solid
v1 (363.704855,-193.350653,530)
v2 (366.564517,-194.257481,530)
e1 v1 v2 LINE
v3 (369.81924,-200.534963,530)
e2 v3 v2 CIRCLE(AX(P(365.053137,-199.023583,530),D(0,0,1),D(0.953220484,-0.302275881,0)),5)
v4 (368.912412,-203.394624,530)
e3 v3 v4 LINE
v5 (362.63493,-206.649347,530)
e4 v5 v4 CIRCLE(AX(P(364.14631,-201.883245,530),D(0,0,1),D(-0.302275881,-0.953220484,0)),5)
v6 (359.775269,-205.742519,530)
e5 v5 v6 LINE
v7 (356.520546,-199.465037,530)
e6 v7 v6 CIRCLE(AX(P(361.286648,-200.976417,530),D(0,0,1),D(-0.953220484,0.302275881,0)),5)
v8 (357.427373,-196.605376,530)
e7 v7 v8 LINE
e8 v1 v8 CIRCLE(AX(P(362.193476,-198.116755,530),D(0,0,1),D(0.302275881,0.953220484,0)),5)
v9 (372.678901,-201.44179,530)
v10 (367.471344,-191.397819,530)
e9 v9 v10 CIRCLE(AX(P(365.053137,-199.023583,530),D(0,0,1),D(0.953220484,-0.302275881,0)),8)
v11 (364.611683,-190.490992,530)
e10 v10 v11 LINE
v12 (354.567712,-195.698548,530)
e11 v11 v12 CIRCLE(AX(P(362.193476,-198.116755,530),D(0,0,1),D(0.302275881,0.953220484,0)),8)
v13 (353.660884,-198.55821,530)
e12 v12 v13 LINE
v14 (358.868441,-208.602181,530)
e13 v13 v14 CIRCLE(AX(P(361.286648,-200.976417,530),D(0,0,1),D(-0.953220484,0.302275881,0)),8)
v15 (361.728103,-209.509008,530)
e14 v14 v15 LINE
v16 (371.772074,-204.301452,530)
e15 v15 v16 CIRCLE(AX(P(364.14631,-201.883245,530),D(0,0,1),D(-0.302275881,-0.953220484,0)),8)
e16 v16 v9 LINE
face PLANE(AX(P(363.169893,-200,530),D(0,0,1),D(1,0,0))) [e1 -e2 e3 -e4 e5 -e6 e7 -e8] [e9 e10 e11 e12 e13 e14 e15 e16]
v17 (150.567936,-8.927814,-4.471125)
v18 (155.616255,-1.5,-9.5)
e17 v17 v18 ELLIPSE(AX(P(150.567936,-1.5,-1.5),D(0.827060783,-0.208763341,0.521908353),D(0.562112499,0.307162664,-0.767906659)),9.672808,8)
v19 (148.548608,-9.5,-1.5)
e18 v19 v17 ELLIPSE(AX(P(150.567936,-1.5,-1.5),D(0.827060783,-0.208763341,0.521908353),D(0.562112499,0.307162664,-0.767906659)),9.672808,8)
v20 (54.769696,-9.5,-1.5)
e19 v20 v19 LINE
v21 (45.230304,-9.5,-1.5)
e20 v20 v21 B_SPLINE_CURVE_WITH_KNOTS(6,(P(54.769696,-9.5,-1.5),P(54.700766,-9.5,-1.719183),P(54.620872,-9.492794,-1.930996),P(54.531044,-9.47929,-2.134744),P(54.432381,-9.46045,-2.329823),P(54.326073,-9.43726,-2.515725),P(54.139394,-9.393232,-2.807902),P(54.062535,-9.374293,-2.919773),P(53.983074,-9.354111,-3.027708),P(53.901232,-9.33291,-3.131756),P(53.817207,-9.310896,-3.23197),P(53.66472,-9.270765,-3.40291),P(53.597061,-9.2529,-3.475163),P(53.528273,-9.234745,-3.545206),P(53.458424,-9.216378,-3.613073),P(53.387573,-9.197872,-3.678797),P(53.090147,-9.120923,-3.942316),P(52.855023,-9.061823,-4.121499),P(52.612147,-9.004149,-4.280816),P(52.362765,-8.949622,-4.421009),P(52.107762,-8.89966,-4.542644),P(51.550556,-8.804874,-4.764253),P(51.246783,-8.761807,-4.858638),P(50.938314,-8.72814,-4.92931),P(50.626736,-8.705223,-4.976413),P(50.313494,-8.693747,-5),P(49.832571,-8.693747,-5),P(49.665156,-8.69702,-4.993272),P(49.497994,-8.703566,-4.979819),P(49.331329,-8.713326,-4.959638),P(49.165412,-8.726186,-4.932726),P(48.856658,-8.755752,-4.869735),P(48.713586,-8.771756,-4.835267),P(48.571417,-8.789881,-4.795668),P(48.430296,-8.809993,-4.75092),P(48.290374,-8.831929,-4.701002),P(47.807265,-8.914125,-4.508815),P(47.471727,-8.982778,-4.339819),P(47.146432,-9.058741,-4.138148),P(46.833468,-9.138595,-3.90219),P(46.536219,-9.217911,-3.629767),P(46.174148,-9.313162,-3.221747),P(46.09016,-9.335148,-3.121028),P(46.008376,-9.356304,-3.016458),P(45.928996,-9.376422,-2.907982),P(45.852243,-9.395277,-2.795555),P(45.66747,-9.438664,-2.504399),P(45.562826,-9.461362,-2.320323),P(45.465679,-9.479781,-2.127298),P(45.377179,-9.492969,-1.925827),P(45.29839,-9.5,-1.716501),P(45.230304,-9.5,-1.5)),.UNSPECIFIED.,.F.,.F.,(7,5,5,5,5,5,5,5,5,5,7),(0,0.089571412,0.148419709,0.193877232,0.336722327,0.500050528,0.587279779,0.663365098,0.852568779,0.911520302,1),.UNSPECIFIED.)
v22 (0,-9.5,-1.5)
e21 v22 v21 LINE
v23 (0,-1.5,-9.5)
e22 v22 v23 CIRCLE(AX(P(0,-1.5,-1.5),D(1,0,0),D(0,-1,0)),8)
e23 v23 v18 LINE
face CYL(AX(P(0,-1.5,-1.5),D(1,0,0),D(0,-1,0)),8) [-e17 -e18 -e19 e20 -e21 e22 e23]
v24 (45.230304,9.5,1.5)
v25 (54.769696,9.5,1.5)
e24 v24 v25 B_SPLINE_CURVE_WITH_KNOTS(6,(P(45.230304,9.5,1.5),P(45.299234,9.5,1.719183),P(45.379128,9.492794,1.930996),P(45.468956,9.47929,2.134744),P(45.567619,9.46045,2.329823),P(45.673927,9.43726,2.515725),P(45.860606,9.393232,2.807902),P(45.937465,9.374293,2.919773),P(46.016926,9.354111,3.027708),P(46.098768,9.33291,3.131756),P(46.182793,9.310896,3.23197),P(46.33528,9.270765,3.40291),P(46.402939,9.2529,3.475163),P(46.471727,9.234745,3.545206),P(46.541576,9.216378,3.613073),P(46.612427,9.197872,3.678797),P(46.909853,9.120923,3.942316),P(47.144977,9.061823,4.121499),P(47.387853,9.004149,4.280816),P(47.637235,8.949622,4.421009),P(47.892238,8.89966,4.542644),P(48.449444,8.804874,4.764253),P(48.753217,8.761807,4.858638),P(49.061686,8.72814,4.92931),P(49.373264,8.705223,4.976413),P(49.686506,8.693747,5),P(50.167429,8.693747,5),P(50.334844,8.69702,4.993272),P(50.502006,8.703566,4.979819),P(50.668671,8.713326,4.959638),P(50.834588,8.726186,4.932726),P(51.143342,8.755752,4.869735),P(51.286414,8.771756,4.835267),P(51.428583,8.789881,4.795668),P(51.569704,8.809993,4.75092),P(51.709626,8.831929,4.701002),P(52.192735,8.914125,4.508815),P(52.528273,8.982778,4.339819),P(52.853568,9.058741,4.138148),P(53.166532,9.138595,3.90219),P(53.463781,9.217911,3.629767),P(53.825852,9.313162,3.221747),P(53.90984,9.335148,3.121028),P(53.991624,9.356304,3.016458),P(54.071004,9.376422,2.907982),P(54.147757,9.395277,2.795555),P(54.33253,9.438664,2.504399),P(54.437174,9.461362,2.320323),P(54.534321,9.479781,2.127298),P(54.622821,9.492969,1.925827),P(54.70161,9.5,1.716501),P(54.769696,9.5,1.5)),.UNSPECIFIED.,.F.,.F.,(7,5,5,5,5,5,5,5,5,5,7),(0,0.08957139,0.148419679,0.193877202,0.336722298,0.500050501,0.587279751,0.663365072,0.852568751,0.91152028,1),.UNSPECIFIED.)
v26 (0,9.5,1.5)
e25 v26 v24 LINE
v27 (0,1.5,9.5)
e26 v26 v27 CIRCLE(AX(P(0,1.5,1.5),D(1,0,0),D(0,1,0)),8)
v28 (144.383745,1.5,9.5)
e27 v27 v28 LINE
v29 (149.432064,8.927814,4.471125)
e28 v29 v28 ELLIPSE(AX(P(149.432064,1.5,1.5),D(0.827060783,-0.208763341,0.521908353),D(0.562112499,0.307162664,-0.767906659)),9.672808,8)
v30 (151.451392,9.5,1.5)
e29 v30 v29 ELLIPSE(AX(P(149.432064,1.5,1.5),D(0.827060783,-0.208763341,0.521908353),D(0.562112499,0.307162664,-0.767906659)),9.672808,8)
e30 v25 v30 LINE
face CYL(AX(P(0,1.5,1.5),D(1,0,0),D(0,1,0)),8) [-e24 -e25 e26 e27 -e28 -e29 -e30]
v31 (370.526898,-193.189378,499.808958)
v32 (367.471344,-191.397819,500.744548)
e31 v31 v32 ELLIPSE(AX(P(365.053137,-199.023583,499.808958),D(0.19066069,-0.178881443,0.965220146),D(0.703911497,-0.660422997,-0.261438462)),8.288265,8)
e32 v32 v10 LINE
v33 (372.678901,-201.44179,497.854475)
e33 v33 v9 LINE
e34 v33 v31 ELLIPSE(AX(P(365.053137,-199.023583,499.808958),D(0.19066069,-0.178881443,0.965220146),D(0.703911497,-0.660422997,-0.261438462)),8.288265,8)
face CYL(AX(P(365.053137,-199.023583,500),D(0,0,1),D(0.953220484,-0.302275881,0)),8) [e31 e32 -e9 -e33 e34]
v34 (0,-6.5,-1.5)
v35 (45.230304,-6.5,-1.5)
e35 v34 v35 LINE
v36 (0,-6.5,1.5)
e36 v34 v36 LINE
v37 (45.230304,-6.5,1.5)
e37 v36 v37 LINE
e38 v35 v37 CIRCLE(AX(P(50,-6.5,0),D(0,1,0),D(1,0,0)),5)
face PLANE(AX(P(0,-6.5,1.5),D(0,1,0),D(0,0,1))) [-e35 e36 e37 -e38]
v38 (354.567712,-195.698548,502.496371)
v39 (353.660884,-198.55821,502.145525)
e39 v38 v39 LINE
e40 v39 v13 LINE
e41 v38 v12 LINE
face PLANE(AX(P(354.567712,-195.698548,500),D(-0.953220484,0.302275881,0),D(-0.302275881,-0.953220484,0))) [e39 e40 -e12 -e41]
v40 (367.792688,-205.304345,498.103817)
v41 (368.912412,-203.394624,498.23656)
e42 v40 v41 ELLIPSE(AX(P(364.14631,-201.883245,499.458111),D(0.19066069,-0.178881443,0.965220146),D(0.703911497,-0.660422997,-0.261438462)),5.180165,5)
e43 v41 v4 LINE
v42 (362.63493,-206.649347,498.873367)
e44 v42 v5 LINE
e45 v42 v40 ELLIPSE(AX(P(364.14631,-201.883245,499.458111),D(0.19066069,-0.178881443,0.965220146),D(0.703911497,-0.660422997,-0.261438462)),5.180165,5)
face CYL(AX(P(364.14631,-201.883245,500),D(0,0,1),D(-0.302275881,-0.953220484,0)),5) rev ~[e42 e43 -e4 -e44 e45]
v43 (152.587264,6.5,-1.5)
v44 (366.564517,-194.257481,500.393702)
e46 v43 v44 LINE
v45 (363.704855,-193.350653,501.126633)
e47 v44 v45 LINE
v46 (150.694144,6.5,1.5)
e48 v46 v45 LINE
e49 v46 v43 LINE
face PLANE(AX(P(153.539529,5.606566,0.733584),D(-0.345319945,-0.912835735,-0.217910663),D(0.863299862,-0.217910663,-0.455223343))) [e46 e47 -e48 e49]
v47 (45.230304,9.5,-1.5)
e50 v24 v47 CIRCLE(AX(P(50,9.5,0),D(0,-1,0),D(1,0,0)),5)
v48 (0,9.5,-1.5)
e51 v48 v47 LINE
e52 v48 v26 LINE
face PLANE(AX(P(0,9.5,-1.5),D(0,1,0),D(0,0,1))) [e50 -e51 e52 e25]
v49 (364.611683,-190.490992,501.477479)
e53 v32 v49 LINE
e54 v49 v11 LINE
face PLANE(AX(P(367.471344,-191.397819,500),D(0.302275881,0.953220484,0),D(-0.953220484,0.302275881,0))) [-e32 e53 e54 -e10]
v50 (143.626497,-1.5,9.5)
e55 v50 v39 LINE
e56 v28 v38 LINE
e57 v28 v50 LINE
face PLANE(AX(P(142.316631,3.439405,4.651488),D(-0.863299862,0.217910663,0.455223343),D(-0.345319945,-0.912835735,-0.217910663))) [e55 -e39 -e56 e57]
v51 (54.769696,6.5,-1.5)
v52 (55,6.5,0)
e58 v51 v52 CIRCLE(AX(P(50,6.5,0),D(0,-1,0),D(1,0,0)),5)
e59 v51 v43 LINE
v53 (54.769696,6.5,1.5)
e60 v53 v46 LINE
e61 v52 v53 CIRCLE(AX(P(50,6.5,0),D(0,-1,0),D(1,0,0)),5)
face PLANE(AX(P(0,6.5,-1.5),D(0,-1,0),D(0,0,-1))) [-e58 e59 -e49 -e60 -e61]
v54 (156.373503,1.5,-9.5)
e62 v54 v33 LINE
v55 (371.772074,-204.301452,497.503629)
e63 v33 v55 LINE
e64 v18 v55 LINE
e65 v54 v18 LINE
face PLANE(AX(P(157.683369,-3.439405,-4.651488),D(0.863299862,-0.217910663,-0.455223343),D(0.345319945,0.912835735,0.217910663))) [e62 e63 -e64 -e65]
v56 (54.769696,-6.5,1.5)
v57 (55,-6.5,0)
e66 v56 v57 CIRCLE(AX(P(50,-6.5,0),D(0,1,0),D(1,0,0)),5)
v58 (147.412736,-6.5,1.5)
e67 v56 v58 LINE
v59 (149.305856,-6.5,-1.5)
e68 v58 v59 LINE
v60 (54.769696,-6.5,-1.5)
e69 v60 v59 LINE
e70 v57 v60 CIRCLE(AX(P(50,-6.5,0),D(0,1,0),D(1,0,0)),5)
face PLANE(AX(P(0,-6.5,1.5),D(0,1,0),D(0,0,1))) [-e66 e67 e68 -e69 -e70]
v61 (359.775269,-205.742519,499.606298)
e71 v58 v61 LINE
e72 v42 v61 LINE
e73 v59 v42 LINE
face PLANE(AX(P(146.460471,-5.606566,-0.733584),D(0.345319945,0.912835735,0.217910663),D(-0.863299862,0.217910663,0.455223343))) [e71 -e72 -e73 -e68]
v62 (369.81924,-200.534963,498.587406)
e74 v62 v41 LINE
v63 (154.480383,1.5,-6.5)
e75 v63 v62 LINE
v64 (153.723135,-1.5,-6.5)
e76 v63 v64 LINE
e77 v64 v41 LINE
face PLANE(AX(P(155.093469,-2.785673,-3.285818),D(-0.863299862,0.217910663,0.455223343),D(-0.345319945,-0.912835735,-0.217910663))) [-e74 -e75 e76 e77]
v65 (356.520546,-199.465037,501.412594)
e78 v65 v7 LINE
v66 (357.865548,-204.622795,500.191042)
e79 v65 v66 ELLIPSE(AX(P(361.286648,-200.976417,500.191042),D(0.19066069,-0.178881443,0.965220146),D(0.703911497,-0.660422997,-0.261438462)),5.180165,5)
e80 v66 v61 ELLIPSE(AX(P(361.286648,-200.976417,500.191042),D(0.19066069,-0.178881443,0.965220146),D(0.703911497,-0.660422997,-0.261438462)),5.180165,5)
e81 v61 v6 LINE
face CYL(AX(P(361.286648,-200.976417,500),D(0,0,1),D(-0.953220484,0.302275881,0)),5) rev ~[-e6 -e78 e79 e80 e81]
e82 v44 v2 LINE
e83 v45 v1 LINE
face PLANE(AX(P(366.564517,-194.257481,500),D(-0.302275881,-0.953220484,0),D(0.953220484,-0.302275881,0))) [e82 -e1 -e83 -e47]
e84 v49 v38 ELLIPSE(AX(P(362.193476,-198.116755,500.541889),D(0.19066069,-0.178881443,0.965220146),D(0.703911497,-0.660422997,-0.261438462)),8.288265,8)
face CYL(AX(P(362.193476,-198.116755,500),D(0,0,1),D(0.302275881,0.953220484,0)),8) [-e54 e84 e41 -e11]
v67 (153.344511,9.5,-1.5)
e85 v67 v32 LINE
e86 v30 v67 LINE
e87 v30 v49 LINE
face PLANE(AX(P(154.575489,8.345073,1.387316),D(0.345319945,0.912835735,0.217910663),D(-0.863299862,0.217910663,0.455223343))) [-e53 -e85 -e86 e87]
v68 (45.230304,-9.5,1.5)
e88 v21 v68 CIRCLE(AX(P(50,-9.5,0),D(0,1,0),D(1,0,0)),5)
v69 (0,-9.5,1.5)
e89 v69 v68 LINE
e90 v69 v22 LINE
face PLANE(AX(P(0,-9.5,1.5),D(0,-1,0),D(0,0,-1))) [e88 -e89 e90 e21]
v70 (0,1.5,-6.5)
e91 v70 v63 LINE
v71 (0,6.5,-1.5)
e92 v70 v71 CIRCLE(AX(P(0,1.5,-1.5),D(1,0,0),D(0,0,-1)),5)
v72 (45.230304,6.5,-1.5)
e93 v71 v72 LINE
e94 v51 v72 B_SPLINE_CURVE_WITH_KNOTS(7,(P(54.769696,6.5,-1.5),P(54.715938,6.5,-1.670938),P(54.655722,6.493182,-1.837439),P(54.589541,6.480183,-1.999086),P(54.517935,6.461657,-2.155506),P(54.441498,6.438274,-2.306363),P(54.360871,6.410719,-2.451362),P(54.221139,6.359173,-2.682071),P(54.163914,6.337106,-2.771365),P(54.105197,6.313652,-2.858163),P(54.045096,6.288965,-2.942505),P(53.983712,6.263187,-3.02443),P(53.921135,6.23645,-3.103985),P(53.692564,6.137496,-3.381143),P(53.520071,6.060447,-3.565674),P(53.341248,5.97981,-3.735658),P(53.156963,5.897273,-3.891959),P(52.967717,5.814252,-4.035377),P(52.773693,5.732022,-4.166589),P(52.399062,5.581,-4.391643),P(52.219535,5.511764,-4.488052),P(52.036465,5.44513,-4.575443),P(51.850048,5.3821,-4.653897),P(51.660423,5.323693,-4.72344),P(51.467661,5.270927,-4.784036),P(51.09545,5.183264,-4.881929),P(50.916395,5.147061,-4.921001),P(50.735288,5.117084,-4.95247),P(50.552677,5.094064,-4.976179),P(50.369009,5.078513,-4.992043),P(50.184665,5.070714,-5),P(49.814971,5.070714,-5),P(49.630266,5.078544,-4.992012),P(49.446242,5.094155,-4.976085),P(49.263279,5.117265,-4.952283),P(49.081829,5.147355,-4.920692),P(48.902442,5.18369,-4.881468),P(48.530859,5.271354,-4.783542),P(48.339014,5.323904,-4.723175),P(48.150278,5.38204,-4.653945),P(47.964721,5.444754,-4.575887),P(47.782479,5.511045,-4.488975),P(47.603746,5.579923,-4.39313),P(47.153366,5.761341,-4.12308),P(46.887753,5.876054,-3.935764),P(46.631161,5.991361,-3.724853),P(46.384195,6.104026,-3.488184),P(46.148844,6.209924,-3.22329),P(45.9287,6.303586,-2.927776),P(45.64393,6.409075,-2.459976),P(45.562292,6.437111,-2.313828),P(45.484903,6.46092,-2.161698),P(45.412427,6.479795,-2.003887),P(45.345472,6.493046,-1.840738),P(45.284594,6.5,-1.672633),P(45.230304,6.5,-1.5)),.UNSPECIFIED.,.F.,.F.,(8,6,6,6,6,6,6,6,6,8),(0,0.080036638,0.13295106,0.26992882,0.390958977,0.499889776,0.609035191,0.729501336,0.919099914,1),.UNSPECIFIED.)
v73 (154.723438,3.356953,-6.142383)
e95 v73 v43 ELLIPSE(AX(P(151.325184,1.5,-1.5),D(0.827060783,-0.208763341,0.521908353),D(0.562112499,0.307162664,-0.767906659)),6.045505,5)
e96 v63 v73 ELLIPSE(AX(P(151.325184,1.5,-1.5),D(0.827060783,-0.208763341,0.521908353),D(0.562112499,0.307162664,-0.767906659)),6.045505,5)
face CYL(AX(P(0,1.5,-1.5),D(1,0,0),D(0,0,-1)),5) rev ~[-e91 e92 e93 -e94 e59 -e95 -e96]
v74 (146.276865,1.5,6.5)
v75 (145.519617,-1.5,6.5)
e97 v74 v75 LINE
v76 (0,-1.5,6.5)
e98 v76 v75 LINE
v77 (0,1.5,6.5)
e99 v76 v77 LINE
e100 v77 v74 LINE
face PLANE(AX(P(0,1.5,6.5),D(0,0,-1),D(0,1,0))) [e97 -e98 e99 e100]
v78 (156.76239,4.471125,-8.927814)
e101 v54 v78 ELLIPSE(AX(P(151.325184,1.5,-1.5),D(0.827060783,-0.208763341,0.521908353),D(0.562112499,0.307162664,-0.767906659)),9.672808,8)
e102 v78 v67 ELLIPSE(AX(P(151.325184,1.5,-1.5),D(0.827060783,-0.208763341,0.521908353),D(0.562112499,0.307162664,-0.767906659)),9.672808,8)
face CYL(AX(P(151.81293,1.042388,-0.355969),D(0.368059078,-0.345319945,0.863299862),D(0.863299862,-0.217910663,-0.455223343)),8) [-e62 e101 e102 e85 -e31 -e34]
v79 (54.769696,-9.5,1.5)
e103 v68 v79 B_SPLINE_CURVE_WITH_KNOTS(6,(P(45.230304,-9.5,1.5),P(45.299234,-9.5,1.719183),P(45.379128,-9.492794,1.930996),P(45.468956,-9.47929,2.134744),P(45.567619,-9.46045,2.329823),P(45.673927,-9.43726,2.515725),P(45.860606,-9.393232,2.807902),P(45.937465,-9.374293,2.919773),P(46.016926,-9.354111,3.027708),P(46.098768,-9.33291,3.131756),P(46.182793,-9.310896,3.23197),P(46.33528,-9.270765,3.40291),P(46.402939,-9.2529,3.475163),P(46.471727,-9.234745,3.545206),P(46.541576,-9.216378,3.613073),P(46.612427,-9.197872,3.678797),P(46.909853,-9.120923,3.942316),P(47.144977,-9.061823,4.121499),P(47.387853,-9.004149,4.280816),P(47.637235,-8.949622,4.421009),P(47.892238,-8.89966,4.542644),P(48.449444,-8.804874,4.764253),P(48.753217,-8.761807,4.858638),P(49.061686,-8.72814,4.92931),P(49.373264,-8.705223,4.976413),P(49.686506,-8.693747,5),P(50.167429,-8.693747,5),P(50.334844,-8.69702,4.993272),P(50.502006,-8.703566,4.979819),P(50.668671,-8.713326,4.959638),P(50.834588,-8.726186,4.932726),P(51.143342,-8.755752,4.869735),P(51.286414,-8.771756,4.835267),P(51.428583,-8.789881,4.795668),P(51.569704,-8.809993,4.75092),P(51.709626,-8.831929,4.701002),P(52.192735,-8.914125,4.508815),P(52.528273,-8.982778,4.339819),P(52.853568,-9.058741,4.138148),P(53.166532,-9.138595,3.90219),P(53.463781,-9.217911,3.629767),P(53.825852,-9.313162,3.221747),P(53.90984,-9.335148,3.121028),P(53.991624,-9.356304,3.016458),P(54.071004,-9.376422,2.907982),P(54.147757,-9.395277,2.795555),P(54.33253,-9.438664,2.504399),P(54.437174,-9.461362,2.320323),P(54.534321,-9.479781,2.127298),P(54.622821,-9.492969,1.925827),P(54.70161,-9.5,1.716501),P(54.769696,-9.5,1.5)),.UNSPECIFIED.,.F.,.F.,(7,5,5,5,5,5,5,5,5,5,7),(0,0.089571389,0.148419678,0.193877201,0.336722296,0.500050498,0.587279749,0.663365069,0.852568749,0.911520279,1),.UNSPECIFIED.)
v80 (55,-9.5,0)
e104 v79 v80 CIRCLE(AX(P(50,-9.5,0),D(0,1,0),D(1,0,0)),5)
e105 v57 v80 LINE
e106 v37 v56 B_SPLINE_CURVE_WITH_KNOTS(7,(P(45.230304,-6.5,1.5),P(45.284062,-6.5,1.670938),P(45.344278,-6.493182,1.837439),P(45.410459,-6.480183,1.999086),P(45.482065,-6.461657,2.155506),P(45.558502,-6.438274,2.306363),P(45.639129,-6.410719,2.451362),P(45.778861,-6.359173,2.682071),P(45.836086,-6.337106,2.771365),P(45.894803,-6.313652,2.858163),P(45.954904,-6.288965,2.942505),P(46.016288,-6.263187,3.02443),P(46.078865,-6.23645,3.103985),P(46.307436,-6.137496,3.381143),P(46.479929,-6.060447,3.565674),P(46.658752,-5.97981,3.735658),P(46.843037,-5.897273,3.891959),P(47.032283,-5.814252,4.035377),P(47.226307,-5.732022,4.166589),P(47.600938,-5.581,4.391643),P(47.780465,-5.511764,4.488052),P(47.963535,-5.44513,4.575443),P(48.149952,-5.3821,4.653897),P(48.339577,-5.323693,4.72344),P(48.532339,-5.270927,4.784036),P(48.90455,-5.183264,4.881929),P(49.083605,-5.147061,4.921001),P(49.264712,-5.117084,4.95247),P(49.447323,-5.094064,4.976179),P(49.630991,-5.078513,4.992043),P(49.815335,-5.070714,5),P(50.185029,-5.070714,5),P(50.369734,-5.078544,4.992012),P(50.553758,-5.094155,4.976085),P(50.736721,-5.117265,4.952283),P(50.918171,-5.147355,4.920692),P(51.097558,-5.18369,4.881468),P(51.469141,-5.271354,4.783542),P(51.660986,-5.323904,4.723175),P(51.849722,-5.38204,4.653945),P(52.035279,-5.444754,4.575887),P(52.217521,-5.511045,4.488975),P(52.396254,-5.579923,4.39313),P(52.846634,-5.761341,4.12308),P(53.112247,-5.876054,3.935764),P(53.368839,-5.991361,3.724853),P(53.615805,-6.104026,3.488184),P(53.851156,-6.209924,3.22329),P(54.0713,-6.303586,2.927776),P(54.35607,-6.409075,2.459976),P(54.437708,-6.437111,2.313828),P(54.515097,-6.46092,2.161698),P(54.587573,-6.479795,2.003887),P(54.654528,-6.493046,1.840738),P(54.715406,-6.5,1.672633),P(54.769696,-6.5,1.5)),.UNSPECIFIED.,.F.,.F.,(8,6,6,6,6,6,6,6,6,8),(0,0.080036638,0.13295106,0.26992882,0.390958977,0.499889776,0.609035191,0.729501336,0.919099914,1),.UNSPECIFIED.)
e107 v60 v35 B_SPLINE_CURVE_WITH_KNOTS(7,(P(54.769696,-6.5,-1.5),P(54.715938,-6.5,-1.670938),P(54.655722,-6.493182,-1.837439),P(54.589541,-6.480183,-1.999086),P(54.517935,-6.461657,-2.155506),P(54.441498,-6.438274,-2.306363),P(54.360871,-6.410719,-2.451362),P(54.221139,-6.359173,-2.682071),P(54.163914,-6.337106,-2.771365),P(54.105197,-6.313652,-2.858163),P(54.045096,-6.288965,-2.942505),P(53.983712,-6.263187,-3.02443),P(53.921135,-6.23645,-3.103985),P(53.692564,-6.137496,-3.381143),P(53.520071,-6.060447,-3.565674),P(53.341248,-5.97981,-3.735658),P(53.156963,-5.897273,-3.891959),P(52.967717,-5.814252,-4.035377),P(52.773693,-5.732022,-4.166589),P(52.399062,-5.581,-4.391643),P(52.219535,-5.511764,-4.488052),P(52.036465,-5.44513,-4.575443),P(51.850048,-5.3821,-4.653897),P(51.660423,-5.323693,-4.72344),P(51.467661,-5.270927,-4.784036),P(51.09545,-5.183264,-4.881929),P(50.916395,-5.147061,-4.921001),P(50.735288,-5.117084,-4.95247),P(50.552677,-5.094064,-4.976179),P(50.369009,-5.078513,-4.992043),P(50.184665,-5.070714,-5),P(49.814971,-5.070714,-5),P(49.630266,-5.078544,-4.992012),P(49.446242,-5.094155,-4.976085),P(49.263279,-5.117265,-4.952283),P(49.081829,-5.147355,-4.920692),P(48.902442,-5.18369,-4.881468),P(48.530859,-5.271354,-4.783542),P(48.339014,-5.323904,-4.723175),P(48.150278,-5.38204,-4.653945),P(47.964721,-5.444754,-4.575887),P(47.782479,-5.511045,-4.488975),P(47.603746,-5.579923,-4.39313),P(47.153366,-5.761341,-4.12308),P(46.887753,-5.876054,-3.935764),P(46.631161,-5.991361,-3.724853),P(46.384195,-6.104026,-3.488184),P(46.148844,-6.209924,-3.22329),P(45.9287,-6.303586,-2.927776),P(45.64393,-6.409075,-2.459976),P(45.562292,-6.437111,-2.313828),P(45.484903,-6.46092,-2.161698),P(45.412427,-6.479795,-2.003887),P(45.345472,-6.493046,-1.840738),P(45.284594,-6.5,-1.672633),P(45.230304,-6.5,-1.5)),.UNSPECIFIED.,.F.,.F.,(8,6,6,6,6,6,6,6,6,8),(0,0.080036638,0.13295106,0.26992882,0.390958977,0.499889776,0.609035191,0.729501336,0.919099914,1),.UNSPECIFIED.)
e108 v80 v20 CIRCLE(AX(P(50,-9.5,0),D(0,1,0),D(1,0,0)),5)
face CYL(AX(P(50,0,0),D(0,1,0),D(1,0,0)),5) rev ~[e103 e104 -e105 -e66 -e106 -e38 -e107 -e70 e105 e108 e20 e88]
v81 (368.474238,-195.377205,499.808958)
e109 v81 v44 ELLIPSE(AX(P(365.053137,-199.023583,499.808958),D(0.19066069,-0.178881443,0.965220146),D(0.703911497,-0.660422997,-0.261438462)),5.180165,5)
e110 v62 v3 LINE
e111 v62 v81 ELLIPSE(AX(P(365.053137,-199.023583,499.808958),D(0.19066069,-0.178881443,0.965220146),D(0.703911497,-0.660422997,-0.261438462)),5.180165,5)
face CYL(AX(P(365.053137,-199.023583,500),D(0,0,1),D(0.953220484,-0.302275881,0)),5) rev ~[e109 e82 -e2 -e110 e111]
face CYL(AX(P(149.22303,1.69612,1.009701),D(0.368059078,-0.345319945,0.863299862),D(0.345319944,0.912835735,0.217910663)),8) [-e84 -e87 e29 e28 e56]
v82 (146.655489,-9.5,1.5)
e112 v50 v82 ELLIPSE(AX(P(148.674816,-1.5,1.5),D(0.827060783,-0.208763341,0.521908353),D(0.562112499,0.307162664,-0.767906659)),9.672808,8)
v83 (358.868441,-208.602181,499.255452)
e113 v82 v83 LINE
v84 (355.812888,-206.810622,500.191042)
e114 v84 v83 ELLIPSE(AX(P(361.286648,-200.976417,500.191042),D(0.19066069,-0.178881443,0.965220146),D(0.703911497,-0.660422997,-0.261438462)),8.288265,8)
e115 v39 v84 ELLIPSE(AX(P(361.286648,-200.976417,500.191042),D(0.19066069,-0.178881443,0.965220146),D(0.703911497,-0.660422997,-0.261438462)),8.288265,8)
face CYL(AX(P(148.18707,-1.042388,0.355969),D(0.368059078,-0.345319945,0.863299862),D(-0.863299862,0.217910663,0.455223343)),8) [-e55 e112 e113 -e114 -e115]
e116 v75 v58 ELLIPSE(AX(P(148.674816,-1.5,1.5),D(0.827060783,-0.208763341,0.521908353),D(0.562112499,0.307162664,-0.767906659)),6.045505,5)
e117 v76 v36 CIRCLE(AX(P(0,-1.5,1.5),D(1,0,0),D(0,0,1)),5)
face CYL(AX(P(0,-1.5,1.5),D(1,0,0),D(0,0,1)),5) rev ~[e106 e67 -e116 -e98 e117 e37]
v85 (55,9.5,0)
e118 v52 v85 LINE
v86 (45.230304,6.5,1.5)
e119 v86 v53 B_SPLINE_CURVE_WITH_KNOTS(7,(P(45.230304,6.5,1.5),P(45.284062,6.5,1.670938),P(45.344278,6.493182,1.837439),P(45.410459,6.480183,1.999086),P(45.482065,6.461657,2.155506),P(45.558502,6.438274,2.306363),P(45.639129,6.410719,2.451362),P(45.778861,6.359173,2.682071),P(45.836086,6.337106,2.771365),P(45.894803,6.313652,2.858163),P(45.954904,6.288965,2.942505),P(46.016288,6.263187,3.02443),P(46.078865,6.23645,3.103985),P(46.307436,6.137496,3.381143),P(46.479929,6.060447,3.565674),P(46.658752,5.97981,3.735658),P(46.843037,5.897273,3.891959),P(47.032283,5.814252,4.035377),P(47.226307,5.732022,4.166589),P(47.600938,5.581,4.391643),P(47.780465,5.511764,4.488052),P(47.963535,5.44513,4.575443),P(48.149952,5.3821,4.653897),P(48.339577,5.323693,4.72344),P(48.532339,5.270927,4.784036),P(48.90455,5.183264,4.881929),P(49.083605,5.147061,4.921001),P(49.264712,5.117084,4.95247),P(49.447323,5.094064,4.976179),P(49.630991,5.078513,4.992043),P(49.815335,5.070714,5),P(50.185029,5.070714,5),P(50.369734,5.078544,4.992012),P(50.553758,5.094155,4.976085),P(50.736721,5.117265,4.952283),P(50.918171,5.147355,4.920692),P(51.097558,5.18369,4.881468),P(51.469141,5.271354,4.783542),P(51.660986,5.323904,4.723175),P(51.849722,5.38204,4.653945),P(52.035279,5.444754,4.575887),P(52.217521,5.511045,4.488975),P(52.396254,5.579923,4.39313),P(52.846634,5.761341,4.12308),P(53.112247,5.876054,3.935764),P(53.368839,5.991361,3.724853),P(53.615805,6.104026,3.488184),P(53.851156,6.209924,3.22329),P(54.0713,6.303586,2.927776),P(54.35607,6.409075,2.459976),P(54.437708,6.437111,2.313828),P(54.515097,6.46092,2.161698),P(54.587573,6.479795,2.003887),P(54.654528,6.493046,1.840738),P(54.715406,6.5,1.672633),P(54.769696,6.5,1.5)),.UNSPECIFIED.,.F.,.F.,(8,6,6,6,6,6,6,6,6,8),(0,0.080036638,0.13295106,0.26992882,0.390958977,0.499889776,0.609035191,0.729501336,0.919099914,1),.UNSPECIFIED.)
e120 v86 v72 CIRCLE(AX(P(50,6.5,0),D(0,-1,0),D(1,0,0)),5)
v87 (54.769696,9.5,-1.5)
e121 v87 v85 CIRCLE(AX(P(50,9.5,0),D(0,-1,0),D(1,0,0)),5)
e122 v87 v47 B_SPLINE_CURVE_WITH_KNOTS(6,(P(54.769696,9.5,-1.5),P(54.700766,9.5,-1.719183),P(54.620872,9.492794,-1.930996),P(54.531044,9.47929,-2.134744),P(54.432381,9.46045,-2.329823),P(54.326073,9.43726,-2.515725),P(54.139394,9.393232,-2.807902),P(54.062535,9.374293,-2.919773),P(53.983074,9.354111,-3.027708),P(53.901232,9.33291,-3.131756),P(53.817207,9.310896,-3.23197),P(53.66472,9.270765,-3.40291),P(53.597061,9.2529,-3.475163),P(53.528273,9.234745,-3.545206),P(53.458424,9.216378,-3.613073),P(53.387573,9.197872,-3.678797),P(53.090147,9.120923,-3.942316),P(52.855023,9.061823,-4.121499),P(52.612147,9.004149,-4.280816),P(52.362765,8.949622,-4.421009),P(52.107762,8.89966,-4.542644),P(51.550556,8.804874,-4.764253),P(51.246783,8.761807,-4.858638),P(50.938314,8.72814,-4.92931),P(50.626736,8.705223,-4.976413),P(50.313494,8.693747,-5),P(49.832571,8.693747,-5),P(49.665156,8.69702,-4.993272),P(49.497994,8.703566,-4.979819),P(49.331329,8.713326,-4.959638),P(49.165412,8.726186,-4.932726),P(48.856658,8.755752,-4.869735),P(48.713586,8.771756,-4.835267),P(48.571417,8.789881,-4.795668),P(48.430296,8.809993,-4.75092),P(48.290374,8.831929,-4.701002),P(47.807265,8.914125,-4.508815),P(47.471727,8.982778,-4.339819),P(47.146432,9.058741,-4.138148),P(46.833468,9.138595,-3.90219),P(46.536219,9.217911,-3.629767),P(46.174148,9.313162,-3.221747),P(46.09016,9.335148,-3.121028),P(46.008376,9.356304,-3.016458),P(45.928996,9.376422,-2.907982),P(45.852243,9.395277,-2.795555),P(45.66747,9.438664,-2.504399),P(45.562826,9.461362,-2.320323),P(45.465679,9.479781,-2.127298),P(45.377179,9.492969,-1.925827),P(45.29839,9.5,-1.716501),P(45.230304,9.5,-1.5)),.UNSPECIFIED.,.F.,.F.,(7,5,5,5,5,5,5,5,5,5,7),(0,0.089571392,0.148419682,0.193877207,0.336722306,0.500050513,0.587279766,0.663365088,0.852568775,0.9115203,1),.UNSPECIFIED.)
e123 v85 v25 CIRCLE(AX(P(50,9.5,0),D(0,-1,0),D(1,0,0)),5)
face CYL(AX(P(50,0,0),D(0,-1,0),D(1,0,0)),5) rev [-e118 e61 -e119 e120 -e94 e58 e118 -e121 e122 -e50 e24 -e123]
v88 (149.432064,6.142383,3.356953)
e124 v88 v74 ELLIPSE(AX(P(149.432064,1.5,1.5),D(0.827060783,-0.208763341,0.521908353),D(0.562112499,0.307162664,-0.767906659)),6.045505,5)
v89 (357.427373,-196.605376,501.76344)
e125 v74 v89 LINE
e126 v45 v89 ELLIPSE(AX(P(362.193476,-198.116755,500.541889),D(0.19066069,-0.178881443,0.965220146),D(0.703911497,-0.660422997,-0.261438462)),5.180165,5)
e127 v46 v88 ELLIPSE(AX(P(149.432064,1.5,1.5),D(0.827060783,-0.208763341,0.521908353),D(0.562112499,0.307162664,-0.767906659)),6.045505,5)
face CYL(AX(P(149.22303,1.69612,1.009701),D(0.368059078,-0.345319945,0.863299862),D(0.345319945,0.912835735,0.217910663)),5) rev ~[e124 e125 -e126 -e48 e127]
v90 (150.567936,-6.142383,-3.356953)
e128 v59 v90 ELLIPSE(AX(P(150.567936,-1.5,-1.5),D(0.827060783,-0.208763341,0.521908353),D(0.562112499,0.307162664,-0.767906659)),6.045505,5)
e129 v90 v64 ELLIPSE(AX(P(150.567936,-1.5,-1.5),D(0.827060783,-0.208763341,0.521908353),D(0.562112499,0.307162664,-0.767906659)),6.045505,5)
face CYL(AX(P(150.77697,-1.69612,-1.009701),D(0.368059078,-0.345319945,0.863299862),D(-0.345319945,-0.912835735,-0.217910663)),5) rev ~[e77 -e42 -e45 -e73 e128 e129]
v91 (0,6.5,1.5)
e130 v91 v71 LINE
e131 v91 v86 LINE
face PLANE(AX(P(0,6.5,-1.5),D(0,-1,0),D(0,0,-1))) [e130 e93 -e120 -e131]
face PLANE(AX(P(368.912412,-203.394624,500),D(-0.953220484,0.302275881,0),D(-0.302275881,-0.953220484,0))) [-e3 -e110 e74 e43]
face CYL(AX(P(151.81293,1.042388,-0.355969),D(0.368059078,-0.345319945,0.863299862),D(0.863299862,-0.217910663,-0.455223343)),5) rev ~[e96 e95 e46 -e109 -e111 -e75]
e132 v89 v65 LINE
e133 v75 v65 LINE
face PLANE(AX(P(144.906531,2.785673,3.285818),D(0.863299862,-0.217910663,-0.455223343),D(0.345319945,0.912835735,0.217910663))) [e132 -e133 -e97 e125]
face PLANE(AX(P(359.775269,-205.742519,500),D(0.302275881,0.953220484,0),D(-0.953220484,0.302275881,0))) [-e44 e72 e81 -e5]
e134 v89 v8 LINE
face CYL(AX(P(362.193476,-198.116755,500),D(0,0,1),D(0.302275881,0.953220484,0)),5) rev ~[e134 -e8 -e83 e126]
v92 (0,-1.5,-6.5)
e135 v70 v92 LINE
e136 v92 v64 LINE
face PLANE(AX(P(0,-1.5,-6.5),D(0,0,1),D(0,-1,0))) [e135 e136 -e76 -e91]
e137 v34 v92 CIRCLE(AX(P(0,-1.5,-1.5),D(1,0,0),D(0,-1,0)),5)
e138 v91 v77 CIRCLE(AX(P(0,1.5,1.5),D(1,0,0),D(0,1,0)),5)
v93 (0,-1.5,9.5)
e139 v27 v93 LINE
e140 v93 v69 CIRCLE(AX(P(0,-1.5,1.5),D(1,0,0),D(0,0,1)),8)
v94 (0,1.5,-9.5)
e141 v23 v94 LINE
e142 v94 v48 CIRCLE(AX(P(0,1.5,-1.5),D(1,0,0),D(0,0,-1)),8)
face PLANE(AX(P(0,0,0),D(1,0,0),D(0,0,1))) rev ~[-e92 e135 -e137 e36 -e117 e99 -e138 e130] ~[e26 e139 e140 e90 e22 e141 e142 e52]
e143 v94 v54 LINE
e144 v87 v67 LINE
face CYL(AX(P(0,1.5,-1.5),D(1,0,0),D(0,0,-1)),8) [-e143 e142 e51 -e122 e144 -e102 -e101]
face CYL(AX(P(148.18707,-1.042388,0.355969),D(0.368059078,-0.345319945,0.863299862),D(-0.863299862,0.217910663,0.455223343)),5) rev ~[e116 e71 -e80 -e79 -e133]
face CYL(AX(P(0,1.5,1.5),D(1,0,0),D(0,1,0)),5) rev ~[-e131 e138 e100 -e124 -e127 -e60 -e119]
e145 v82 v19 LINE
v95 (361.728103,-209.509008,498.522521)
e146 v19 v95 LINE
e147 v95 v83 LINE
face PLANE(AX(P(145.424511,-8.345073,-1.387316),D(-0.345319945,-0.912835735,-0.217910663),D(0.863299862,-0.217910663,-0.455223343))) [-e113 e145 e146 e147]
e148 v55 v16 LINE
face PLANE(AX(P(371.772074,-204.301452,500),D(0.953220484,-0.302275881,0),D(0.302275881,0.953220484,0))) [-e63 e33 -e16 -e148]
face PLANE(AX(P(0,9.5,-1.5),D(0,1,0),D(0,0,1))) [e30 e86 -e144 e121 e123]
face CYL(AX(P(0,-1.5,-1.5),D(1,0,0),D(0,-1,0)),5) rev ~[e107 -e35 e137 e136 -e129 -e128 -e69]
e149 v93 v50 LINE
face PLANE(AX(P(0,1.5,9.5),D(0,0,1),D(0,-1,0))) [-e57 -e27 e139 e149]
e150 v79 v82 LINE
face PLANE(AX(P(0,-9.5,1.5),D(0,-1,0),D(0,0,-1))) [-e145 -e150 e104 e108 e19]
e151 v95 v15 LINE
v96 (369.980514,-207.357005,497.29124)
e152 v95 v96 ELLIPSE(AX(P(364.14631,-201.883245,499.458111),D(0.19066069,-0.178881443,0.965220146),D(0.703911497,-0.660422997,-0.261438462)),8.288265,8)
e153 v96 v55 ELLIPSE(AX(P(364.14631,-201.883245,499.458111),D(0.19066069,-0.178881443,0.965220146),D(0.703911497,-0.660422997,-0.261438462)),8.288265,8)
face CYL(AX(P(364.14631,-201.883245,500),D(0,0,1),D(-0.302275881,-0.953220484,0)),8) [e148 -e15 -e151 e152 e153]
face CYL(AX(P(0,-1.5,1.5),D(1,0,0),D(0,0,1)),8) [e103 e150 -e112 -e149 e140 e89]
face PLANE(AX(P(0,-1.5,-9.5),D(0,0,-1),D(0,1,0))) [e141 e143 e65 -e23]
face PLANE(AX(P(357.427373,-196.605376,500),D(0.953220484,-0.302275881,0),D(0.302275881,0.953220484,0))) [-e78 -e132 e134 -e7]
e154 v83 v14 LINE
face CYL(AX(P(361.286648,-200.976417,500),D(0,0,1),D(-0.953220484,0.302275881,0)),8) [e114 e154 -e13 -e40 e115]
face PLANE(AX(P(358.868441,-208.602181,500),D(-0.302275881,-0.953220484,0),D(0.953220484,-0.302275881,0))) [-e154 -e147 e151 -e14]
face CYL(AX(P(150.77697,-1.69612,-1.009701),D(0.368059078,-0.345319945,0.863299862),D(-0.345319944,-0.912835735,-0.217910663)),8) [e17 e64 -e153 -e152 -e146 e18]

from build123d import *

# Parameters (mm, degrees)
SKETCH21_R              = 5
CUT_EXTRUDE3_DEPTH      = 10.5
CUT_EXTRUDE3_DEPTH_BACK = 210.883244548


with BuildPart() as part:
    # Sweep-Thin3: sweep along a curve in space
    with BuildLine() as sweep_thin3_path:
        Line((0, 0, 0), (150, 0, 0))
        Line((150, 0, 0), (363.169892788, -200, 500))
        Line((363.169892788, -200, 500), (363.169892788, -200, 530))
    # Sketch2 → Sweep-Thin3 (sweep)
    with BuildSketch(Plane(origin=(0, 0, 0), x_dir=(0, 0, -1), z_dir=(1, 0, 0))):
        with BuildLine():
            Line((1.5, 9.5), (-1.5, 9.5))
            ThreePointArc((-1.5, 9.5), (-7.156854249, 7.156854249), (-9.5, 1.5))
            Line((-9.5, 1.5), (-9.5, -1.5))
            ThreePointArc((-9.5, -1.5), (-7.156854249, -7.156854249), (-1.5, -9.5))
            Line((-1.5, -9.5), (1.5, -9.5))
            ThreePointArc((1.5, -9.5), (7.156854249, -7.156854249), (9.5, -1.5))
            Line((9.5, -1.5), (9.5, 1.5))
            ThreePointArc((9.5, 1.5), (7.156854249, 7.156854249), (1.5, 9.5))
        make_face()
        with BuildLine():
            Line((1.5, 6.5), (-1.5, 6.5))
            ThreePointArc((-1.5, 6.5), (-5.035533906, 5.035533906), (-6.5, 1.5))
            Line((-6.5, 1.5), (-6.5, -1.5))
            ThreePointArc((-6.5, -1.5), (-5.035533906, -5.035533906), (-1.5, -6.5))
            Line((-1.5, -6.5), (1.5, -6.5))
            ThreePointArc((1.5, -6.5), (5.035533906, -5.035533906), (6.5, -1.5))
            Line((6.5, -1.5), (6.5, 1.5))
            ThreePointArc((6.5, 1.5), (5.035533906, 5.035533906), (1.5, 6.5))
        make_face(mode=Mode.SUBTRACT)
    sweep(path=sweep_thin3_path.line, transition=Transition.RIGHT)

    # Sketch21 → Cut-Extrude3 (cut, two sides)
    with BuildSketch(Plane(origin=(0, 0, 0), x_dir=(1, 0, 0), z_dir=(0, 1, 0))) as cut_extrude3_sk:
        with Locations((50, 0)):
            Circle(SKETCH21_R)
    extrude(amount=CUT_EXTRUDE3_DEPTH, mode=Mode.SUBTRACT)
    extrude(cut_extrude3_sk.sketch, amount=-CUT_EXTRUDE3_DEPTH_BACK, mode=Mode.SUBTRACT)


solid = part.part
